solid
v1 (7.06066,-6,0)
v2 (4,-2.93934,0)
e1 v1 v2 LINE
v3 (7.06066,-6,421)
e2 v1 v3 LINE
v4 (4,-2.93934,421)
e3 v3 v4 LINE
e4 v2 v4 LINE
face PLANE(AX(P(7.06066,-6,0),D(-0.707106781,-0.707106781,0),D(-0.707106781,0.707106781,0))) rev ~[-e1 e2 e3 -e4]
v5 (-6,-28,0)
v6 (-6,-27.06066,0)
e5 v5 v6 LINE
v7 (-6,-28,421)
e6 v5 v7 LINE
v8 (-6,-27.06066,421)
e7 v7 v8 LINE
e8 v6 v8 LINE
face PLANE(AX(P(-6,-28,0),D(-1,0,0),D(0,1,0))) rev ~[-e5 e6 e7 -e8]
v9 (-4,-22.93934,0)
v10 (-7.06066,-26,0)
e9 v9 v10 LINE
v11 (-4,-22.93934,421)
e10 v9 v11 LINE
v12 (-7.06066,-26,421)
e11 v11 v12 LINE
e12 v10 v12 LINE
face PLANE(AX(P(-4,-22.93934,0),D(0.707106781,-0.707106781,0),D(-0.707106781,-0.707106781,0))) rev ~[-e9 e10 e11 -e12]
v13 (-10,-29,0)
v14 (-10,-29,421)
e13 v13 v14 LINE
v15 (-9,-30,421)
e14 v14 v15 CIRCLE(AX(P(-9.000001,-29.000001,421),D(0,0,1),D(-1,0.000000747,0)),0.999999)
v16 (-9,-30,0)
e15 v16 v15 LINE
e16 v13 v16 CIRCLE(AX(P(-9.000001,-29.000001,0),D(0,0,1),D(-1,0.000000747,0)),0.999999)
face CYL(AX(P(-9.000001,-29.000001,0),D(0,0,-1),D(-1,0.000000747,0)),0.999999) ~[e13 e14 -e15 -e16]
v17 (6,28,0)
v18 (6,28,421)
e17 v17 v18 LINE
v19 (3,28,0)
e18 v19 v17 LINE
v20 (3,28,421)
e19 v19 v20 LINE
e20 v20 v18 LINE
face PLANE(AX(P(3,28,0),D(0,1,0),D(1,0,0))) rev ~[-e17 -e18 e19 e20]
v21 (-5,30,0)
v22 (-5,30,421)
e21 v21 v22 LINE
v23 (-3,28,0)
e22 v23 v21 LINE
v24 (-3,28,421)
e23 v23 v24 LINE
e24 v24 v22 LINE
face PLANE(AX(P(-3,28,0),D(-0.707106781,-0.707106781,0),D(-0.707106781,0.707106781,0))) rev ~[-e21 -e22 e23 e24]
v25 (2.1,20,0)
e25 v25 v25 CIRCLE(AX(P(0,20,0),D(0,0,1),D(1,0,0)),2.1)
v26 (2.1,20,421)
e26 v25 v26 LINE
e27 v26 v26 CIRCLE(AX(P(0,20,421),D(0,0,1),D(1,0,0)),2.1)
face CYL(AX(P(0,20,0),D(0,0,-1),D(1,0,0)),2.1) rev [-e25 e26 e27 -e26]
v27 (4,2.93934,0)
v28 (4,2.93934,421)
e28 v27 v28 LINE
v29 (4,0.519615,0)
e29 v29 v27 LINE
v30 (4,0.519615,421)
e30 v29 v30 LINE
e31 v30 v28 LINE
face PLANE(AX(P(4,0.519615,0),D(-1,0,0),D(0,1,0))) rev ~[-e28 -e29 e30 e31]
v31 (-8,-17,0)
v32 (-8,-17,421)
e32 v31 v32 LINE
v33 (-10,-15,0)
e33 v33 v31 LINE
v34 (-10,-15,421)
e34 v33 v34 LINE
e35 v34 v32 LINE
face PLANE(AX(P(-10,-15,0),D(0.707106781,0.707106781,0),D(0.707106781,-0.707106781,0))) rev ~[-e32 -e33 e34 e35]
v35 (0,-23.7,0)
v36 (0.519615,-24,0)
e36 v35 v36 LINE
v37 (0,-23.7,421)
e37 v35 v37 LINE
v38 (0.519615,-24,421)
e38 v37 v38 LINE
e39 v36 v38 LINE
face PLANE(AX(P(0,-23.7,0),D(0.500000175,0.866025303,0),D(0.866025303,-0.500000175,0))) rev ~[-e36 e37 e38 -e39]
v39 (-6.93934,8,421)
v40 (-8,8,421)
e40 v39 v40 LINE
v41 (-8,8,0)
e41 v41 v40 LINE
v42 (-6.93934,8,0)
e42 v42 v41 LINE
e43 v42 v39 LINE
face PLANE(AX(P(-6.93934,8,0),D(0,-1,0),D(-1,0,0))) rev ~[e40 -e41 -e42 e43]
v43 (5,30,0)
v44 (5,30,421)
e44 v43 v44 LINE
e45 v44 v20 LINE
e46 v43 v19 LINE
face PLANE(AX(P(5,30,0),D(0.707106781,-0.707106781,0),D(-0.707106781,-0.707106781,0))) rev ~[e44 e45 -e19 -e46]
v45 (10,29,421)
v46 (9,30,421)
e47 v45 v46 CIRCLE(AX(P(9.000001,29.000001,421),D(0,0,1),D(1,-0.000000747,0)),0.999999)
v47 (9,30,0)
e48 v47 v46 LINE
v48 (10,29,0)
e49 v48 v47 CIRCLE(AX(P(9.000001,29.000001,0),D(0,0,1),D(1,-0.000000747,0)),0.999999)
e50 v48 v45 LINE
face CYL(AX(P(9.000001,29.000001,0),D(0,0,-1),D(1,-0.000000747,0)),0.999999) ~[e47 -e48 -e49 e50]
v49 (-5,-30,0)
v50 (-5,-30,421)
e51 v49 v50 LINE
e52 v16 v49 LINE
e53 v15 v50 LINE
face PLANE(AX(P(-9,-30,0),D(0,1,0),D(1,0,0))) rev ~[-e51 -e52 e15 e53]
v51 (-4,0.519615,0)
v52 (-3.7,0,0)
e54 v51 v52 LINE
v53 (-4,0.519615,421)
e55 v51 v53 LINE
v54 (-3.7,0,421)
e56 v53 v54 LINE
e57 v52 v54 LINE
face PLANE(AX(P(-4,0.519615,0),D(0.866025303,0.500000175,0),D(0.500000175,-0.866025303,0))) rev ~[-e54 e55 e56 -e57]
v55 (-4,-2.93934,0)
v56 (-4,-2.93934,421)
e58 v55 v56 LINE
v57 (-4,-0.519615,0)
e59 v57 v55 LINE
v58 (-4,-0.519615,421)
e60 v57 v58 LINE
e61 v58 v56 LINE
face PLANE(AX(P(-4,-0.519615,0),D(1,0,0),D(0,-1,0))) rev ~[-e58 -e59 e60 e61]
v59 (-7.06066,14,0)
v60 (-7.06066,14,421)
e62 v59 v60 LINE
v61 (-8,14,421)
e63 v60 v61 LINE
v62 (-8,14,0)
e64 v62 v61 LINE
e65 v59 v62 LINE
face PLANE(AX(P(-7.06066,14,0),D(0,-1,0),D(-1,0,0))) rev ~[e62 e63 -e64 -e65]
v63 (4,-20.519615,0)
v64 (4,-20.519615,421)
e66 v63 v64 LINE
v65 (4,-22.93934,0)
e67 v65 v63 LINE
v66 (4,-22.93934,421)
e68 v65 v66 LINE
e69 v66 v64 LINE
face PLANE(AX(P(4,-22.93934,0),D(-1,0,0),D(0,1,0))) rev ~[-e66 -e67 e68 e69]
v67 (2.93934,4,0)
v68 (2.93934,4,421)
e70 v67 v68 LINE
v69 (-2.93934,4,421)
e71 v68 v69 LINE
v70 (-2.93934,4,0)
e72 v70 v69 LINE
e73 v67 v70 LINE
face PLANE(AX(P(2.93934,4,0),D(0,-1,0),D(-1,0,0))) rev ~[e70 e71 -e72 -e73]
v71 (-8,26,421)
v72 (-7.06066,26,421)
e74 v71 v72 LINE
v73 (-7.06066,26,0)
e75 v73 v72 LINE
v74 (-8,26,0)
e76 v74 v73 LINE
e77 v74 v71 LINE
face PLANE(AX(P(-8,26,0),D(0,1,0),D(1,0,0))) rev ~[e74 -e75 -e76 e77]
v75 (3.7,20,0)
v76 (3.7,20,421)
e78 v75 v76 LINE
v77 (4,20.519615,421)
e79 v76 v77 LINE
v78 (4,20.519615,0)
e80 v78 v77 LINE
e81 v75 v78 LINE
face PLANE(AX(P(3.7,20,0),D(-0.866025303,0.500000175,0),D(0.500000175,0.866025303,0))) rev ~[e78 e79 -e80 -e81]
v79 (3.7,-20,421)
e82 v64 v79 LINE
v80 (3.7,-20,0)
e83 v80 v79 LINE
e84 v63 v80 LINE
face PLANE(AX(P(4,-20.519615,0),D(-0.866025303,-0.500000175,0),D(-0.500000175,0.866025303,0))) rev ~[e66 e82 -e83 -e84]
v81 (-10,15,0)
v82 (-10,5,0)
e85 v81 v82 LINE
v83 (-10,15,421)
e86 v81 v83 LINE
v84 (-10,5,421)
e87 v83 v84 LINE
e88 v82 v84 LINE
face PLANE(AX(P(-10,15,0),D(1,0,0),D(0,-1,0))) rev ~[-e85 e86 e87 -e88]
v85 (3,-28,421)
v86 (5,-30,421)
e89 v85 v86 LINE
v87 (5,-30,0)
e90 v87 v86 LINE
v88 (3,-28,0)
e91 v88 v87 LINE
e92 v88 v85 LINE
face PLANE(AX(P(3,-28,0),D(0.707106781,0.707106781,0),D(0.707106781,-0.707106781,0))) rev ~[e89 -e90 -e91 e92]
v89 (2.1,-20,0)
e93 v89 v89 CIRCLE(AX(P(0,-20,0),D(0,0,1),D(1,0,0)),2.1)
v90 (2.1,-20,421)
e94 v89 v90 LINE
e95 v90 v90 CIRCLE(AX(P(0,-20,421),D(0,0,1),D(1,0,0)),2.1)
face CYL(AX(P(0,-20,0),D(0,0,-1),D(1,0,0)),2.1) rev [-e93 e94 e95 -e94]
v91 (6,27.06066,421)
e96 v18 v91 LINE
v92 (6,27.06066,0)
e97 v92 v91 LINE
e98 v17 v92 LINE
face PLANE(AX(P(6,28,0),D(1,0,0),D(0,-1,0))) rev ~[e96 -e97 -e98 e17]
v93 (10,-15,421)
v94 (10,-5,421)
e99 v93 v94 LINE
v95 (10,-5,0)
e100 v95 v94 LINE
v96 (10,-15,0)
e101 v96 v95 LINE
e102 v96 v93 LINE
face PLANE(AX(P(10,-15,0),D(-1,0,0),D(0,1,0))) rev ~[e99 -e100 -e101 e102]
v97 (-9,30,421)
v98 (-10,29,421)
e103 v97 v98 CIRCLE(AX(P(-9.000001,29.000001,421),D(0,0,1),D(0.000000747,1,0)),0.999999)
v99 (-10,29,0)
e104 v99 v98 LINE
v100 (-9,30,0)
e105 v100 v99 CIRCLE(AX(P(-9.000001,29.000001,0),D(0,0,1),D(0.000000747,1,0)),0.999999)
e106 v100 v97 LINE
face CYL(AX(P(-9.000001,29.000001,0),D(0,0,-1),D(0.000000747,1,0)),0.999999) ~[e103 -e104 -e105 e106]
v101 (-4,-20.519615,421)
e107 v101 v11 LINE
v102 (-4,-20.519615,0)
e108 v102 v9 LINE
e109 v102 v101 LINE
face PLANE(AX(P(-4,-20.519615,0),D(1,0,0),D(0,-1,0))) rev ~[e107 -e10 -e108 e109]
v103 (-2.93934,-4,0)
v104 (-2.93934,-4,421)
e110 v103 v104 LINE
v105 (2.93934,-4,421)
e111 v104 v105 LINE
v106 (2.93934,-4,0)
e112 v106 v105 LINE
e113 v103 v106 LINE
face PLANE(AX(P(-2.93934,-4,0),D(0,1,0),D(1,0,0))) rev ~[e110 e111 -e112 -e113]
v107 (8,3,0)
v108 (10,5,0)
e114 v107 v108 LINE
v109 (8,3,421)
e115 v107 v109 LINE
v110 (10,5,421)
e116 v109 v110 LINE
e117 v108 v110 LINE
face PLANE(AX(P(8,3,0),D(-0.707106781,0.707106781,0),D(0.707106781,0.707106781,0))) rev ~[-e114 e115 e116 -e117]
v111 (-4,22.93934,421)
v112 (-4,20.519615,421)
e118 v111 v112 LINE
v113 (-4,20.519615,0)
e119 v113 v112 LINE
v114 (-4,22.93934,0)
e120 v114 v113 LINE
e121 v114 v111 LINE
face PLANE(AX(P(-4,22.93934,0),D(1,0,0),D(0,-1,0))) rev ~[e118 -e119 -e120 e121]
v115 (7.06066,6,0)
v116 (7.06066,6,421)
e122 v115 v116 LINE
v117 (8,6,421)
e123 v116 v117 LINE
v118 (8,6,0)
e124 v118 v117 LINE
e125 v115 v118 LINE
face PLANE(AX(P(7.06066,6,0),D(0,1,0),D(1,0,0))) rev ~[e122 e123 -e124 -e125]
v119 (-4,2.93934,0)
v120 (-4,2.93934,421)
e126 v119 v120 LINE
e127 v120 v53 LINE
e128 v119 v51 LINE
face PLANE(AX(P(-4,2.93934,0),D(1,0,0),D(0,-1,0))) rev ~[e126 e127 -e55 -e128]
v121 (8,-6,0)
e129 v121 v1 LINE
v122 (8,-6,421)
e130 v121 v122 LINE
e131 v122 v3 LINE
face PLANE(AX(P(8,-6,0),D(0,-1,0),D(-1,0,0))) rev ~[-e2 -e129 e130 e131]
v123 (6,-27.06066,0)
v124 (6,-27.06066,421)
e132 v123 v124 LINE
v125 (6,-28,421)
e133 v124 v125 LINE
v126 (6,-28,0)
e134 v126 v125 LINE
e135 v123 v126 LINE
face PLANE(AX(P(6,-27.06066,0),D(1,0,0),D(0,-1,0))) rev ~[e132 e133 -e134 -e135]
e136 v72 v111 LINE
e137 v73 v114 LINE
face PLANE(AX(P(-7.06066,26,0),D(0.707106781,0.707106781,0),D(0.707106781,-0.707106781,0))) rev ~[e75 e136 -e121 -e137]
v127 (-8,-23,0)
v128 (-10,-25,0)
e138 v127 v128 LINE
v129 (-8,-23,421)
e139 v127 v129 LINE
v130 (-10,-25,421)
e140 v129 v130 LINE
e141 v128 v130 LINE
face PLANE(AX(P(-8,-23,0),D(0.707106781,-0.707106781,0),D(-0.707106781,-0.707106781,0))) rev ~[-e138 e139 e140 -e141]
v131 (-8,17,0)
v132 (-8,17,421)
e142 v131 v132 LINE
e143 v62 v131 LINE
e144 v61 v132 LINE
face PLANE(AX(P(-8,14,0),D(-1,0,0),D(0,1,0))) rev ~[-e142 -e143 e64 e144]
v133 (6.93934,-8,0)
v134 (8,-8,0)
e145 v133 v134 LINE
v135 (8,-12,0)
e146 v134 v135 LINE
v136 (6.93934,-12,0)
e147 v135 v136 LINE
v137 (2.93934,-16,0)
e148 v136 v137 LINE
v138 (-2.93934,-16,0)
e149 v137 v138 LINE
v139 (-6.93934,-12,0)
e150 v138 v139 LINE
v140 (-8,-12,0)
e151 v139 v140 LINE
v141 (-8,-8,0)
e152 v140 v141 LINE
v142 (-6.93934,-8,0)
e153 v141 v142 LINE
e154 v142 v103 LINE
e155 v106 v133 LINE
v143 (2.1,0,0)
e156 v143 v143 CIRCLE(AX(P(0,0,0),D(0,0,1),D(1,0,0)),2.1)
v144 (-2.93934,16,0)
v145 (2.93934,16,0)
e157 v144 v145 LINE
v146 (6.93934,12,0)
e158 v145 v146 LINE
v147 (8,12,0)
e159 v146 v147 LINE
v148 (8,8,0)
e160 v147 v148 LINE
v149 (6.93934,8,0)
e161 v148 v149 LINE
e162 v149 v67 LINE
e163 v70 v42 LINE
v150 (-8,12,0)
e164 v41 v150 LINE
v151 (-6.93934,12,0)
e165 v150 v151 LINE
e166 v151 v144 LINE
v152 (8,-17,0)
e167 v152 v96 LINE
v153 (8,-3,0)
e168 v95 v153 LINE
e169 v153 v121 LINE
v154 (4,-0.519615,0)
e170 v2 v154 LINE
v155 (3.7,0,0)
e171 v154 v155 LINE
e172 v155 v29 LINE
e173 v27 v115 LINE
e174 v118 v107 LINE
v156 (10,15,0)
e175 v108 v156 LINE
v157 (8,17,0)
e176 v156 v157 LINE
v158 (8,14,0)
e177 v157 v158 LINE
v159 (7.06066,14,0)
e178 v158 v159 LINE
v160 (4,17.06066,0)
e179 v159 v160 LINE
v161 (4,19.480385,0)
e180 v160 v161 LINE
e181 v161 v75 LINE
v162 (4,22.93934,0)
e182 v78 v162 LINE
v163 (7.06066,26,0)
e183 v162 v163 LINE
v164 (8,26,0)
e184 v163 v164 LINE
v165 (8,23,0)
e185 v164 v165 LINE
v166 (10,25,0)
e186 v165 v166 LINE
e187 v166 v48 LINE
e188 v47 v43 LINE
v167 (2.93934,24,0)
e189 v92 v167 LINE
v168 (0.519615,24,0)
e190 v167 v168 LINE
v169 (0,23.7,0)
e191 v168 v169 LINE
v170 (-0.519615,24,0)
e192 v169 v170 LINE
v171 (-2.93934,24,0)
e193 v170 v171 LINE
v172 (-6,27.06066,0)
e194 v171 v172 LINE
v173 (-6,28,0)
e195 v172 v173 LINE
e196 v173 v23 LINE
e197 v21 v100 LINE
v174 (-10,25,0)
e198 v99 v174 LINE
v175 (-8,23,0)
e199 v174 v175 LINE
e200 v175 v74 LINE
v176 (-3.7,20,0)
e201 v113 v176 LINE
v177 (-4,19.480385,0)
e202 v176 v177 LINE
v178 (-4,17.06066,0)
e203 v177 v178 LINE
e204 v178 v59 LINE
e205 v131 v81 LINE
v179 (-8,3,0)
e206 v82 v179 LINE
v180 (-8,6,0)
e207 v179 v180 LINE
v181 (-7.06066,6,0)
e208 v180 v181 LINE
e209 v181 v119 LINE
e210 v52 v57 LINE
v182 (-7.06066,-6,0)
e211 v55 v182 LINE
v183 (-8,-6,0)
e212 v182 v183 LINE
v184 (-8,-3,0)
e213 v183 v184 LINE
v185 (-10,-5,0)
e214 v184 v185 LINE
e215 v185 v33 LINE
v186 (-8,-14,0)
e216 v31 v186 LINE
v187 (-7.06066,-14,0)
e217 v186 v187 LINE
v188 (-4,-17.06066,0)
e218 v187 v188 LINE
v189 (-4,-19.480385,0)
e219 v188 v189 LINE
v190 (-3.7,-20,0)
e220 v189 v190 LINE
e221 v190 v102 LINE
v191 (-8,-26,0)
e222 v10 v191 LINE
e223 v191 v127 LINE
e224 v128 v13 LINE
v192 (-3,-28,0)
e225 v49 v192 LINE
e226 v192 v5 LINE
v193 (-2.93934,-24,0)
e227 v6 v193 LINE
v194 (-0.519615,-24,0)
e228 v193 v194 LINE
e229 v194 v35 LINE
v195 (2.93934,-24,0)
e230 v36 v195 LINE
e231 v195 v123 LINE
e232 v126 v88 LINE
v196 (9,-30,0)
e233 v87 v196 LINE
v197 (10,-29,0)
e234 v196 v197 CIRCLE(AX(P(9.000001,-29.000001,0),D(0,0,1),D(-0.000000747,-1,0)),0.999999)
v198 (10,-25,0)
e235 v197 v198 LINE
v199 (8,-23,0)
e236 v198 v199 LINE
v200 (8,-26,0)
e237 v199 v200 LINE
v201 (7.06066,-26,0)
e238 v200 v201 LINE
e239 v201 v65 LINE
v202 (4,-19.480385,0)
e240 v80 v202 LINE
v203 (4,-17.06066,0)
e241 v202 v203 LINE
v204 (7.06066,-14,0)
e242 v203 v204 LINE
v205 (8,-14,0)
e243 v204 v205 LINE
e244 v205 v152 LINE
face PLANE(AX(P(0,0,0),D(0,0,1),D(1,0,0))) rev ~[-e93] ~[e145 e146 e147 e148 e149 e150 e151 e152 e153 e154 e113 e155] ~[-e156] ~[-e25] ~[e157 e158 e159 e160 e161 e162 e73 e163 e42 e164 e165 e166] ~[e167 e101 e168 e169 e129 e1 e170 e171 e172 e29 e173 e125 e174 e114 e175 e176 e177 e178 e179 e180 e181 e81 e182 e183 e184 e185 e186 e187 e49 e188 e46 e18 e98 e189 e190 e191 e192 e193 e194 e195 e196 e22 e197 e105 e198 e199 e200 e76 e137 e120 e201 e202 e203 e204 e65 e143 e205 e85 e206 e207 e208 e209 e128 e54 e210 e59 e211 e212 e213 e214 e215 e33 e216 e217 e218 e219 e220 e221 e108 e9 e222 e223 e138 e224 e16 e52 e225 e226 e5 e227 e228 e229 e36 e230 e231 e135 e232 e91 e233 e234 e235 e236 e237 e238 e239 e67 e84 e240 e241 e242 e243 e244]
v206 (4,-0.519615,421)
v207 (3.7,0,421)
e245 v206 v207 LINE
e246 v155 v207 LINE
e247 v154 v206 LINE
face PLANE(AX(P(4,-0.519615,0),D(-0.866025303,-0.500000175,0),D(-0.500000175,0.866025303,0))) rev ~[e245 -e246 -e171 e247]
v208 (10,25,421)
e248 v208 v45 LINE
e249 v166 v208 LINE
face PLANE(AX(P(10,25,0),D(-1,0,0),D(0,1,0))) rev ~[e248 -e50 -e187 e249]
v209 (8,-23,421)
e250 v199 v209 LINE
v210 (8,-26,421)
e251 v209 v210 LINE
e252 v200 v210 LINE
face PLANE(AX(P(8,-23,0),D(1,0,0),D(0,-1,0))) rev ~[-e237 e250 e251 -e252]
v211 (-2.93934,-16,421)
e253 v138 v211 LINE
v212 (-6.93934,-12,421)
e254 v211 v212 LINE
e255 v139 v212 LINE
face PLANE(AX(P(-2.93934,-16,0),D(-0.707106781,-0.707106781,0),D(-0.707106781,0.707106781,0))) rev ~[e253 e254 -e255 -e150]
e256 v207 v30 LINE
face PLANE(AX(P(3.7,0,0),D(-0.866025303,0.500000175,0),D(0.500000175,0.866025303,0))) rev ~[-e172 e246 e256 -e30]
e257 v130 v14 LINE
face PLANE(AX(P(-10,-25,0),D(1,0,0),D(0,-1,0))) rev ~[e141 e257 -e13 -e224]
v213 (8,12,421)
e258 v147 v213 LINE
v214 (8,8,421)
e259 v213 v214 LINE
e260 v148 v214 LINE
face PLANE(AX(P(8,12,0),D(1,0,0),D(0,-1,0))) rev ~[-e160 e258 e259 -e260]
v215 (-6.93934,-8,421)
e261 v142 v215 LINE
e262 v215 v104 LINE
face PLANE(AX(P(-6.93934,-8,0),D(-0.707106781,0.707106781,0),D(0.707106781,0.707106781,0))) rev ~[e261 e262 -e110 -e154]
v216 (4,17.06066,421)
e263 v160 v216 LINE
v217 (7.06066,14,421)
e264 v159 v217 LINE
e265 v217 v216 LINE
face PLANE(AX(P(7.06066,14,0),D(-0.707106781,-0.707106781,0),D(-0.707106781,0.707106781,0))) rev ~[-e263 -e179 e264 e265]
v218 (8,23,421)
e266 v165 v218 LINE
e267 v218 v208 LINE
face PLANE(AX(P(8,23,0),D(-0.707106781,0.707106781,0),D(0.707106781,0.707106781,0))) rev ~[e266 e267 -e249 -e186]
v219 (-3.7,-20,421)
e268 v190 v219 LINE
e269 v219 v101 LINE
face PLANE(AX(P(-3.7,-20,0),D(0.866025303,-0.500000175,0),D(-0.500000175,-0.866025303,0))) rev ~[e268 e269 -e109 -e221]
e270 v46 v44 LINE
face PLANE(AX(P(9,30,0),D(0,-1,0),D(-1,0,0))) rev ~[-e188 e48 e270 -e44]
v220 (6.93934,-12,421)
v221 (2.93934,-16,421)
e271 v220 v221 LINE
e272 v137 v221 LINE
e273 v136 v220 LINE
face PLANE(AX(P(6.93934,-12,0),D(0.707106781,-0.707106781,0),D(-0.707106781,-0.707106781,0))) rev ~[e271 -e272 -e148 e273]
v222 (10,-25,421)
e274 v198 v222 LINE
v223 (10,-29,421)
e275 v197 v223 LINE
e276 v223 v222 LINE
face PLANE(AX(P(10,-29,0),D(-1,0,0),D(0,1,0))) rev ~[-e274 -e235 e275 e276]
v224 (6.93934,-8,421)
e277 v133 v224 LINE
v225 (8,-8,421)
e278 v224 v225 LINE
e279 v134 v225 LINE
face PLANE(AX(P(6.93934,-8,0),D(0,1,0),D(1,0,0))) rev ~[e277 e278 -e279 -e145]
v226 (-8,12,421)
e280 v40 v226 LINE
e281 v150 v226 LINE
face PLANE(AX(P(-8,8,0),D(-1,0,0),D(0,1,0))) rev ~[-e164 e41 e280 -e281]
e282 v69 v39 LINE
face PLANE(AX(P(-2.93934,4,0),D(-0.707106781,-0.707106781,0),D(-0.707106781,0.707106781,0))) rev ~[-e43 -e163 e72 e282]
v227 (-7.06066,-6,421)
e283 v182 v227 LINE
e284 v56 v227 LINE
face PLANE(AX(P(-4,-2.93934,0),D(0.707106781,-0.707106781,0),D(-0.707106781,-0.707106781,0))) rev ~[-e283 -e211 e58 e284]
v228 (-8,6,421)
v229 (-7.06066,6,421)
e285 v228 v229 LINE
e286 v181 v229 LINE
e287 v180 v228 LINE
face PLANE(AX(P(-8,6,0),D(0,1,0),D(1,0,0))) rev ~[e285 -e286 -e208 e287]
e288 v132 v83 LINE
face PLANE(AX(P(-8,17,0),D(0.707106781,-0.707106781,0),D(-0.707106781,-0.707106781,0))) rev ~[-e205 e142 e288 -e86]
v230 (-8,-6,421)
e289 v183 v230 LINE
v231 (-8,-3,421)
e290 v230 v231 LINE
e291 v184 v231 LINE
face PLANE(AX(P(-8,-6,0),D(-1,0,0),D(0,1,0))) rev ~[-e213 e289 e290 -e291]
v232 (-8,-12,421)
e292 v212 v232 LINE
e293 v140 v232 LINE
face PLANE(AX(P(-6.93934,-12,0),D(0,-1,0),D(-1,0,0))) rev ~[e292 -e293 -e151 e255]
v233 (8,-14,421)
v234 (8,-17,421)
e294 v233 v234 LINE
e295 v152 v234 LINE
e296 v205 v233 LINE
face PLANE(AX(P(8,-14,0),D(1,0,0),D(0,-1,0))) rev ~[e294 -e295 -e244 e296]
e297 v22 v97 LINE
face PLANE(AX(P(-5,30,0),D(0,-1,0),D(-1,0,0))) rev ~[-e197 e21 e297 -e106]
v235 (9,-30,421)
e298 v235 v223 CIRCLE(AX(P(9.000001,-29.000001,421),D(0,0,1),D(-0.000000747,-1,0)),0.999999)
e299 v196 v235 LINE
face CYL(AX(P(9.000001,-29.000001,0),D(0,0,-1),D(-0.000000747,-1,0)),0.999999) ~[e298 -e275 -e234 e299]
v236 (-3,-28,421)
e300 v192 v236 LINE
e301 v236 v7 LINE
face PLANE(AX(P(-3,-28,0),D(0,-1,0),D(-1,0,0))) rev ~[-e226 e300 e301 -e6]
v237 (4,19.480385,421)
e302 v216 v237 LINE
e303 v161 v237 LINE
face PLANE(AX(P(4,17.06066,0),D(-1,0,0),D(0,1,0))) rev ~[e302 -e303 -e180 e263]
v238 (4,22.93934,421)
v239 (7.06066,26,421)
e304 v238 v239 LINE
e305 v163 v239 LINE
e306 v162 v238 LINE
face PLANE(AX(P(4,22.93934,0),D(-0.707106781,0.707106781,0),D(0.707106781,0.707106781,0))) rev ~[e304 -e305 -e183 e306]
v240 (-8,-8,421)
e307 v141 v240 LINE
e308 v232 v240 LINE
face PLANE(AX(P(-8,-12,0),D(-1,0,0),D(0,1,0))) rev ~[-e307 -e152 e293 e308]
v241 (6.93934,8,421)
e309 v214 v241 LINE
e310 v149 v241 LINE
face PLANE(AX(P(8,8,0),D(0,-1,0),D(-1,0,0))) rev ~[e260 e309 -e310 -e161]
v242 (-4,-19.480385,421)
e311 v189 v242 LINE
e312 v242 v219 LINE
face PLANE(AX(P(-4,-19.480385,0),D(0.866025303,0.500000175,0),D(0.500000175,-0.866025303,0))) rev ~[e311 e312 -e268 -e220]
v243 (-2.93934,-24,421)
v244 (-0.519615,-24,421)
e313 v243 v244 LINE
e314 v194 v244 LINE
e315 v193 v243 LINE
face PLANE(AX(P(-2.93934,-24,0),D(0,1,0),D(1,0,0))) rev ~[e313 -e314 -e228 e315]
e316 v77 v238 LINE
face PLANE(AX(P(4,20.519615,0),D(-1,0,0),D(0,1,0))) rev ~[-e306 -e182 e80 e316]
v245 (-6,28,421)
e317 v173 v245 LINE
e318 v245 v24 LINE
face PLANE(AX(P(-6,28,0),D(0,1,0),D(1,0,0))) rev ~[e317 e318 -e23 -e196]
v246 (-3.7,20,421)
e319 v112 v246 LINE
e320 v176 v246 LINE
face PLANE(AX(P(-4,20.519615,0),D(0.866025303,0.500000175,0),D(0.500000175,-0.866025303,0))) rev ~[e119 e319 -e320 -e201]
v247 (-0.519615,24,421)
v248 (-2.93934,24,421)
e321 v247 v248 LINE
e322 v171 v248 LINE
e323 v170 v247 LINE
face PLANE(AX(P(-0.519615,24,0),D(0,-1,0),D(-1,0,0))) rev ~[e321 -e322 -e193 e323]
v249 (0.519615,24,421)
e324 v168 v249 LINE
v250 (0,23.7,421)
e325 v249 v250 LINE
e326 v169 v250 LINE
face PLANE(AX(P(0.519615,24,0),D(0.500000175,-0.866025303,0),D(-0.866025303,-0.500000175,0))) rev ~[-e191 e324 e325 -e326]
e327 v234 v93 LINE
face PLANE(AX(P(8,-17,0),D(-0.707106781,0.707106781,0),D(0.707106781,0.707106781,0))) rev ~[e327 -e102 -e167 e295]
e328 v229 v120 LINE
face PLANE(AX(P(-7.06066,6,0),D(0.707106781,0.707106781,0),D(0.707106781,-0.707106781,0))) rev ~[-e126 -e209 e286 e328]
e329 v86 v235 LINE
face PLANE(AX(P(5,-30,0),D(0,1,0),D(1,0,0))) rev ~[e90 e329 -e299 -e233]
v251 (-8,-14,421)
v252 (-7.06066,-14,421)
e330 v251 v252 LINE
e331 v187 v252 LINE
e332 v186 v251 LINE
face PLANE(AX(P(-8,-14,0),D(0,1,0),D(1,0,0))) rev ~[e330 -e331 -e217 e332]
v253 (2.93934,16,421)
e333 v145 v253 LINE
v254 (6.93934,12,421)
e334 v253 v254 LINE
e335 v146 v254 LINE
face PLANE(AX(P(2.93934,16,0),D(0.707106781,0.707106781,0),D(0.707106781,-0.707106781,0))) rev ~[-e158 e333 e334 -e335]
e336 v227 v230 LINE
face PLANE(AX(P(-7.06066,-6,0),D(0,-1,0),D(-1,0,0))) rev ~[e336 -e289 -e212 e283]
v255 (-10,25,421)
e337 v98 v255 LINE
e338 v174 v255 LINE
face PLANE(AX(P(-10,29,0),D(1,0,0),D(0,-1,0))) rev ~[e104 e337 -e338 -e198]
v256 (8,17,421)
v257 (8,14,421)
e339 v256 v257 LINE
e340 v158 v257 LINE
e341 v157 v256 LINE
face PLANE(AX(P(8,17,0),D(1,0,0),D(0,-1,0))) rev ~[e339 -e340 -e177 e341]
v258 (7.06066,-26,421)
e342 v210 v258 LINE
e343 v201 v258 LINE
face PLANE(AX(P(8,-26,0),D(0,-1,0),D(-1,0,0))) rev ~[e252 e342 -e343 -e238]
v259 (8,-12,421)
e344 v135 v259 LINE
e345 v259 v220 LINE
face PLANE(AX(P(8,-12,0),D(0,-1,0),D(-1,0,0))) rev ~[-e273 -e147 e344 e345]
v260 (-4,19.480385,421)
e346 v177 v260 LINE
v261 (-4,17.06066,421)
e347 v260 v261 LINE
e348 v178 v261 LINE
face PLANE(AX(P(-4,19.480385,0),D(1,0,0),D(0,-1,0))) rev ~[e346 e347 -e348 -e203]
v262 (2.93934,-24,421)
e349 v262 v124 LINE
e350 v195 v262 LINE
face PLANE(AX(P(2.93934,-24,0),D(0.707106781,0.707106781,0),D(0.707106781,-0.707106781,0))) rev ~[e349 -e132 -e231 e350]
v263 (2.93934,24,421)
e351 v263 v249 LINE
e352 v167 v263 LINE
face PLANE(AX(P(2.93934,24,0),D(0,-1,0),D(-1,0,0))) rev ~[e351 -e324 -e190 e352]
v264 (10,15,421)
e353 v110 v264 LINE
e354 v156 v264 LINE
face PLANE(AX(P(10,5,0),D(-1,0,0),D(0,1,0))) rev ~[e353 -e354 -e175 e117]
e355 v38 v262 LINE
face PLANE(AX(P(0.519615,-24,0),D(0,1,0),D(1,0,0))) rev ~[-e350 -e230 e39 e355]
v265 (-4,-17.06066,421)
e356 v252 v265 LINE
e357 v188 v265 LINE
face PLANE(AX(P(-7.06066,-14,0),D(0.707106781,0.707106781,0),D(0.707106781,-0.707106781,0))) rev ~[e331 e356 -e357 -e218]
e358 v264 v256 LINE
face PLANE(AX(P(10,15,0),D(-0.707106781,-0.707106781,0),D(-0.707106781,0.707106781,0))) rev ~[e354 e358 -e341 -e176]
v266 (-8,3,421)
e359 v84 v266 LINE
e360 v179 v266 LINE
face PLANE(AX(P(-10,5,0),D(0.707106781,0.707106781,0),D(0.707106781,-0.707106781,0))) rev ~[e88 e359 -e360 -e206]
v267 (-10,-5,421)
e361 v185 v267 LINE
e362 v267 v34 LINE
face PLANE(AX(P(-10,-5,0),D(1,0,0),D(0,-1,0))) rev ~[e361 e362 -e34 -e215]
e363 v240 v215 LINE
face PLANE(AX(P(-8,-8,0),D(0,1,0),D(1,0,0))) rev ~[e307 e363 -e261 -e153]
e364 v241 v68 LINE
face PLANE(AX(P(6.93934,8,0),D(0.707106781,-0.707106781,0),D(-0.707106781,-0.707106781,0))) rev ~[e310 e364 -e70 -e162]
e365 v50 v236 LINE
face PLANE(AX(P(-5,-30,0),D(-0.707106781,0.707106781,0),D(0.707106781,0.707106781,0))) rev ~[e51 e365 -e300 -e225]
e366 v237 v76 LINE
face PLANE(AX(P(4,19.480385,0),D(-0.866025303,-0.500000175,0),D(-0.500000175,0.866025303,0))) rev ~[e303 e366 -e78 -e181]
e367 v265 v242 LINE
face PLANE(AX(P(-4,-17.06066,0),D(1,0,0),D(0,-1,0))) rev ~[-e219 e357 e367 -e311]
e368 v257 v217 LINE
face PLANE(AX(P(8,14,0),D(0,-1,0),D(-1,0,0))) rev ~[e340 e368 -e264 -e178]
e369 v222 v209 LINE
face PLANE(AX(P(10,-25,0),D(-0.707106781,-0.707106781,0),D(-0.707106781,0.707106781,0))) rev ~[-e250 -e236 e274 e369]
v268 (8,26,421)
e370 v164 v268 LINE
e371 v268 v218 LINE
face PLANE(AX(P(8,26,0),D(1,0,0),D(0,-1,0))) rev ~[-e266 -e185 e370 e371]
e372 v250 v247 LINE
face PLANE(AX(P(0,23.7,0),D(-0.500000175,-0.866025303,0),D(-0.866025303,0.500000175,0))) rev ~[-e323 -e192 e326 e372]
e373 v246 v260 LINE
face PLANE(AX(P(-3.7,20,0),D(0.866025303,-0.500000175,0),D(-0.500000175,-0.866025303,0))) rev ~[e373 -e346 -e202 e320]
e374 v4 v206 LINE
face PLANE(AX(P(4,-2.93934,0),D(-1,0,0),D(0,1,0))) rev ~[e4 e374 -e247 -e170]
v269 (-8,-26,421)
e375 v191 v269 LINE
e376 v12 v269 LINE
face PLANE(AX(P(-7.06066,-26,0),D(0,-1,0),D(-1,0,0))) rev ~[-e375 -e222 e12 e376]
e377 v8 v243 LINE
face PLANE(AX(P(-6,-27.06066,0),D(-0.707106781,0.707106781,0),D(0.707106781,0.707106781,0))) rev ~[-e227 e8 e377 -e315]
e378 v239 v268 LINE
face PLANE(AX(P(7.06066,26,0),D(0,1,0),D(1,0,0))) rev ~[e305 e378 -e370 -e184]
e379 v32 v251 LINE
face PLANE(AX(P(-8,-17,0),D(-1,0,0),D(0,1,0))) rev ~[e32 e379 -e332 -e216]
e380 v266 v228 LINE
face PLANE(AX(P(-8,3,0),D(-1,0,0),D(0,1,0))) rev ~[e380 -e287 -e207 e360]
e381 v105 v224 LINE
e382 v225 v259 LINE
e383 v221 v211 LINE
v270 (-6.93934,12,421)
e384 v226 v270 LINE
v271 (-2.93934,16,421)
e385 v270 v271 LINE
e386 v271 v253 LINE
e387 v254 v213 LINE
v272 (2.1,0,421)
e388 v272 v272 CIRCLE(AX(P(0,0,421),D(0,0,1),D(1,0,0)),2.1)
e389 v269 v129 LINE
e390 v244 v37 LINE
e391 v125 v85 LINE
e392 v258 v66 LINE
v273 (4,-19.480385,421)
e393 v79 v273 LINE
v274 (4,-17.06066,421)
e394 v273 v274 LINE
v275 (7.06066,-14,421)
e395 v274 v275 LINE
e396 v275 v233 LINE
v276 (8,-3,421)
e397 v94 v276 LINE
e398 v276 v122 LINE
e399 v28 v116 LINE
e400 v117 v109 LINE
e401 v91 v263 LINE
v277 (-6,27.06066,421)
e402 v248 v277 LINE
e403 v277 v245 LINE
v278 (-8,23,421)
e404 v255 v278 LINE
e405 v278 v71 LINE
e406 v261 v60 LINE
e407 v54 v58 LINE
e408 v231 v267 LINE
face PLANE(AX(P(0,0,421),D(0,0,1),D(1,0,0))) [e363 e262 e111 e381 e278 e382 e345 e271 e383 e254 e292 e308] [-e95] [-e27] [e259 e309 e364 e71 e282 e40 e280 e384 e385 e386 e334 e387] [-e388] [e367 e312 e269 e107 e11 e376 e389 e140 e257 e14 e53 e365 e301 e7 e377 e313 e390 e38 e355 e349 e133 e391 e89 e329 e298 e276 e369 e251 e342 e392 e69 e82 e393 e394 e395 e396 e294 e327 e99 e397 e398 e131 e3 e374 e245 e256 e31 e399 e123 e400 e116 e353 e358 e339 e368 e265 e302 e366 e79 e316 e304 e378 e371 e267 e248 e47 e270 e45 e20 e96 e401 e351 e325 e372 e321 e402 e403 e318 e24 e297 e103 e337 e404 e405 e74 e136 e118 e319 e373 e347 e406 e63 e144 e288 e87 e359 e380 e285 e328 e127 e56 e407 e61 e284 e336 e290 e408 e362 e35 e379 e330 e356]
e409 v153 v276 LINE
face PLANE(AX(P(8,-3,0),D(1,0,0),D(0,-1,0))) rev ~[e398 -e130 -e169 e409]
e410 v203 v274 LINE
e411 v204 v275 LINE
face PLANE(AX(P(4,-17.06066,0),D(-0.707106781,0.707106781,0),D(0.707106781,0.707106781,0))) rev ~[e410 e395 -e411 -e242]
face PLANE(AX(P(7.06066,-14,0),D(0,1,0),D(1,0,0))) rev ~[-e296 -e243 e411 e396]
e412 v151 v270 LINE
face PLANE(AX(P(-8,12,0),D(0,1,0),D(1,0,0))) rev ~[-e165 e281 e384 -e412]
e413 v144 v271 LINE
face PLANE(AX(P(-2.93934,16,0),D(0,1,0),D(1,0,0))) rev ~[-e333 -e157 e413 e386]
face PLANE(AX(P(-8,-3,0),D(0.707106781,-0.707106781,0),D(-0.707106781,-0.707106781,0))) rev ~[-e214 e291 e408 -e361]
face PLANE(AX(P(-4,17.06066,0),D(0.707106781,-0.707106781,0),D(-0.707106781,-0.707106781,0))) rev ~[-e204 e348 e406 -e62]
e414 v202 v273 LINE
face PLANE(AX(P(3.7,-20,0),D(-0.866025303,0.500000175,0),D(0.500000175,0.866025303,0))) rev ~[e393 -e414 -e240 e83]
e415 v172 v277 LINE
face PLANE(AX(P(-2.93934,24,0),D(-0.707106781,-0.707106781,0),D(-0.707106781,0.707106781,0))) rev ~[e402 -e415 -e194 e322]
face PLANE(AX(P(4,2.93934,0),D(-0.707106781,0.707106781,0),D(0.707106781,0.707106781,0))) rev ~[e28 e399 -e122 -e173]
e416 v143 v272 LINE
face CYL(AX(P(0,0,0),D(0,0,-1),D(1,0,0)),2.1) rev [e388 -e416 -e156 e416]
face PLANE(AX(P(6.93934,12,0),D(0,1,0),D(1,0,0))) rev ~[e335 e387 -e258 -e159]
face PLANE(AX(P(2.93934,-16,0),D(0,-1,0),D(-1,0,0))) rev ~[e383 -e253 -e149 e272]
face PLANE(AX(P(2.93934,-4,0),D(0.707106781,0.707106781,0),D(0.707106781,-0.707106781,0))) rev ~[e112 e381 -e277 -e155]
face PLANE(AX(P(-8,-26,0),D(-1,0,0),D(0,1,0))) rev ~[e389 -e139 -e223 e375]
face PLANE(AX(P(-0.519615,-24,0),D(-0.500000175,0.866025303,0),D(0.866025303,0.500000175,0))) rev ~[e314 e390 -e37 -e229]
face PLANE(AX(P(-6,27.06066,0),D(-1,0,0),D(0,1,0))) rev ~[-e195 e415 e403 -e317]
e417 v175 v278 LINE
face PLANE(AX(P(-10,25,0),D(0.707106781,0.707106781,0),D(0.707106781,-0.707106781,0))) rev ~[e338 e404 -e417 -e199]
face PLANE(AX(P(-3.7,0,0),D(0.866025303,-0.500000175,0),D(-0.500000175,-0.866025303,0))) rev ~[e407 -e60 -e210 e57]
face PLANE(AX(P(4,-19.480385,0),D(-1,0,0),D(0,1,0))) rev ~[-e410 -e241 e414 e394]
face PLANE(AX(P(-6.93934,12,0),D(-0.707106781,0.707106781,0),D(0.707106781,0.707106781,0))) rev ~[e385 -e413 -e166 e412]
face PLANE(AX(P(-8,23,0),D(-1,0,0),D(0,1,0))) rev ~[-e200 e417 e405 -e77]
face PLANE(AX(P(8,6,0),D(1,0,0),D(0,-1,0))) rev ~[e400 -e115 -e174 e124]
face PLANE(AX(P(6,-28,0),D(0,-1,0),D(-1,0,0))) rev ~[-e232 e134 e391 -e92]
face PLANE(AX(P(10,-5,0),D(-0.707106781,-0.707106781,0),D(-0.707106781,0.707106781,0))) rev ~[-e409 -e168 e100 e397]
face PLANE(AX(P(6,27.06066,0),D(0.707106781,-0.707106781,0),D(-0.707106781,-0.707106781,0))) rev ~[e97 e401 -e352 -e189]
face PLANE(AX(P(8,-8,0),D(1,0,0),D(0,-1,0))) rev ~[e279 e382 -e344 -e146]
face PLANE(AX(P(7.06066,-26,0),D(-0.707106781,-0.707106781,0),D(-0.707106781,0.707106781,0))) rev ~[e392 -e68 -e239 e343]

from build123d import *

# Parameters (mm, degrees)
F0_R     = 2.1
F1_DEPTH = 421


with BuildPart() as f1:
    # F0 (on Top) → F1 (new body)
    with BuildSketch(Plane.XY):
        with BuildLine():
            Line((-8, -3), (-10, -5))
            Line((-10, -5), (-10, -15))
            Line((-10, -15), (-8, -17))
            Line((-8, -17), (-8, -14))
            Line((-8, -14), (-7.06066, -14))
            Line((-7.06066, -14), (-4, -17.06066))
            Line((-4, -17.06066), (-4, -19.480385))
            Line((-4, -19.480385), (-3.7, -20))
            Line((-3.7, -20), (-4, -20.519615))
            Line((-4, -20.519615), (-4, -22.93934))
            Line((-4, -22.93934), (-7.06066, -26))
            Line((-7.06066, -26), (-8, -26))
            Line((-8, -26), (-8, -23))
            Line((-8, -23), (-10, -25))
            Line((-10, -25), (-10, -29))
            ThreePointArc((-10, -29), (-9.707107, -29.707107), (-9, -30))
            Line((-9, -30), (-5, -30))
            Line((-5, -30), (-3, -28))
            Line((-3, -28), (-6, -28))
            Line((-6, -28), (-6, -27.06066))
            Line((-6, -27.06066), (-2.93934, -24))
            Line((-2.93934, -24), (-0.519615, -24))
            Line((-0.519615, -24), (0, -23.7))
            Line((0, -23.7), (0.519615, -24))
            Line((0.519615, -24), (2.93934, -24))
            Line((2.93934, -24), (6, -27.06066))
            Line((6, -27.06066), (6, -28))
            Line((6, -28), (3, -28))
            Line((3, -28), (5, -30))
            Line((5, -30), (9, -30))
            ThreePointArc((9, -30), (9.707107, -29.707107), (10, -29))
            Line((10, -29), (10, -25))
            Line((10, -25), (8, -23))
            Line((8, -23), (8, -26))
            Line((8, -26), (7.06066, -26))
            Line((7.06066, -26), (4, -22.93934))
            Line((4, -22.93934), (4, -20.519615))
            Line((4, -20.519615), (3.7, -20))
            Line((3.7, -20), (4, -19.480385))
            Line((4, -19.480385), (4, -17.06066))
            Line((4, -17.06066), (7.06066, -14))
            Line((7.06066, -14), (8, -14))
            Line((8, -14), (8, -17))
            Line((8, -17), (10, -15))
            Line((10, -15), (10, -5))
            Line((10, -5), (8, -3))
            Line((8, -3), (8, -6))
            Line((8, -6), (7.06066, -6))
            Line((7.06066, -6), (4, -2.93934))
            Line((4, -2.93934), (4, -0.519615))
            Line((4, -0.519615), (3.7, 0))
            Line((3.7, 0), (4, 0.519615))
            Line((4, 0.519615), (4, 2.93934))
            Line((4, 2.93934), (7.06066, 6))
            Line((7.06066, 6), (8, 6))
            Line((8, 6), (8, 3))
            Line((8, 3), (10, 5))
            Line((10, 5), (10, 15))
            Line((10, 15), (8, 17))
            Line((8, 17), (8, 14))
            Line((8, 14), (7.06066, 14))
            Line((7.06066, 14), (4, 17.06066))
            Line((4, 17.06066), (4, 19.480385))
            Line((4, 19.480385), (3.7, 20))
            Line((3.7, 20), (4, 20.519615))
            Line((4, 20.519615), (4, 22.93934))
            Line((4, 22.93934), (7.06066, 26))
            Line((7.06066, 26), (8, 26))
            Line((8, 26), (8, 23))
            Line((8, 23), (10, 25))
            Line((10, 25), (10, 29))
            ThreePointArc((10, 29), (9.707107, 29.707107), (9, 30))
            Line((9, 30), (5, 30))
            Line((5, 30), (3, 28))
            Line((3, 28), (6, 28))
            Line((6, 28), (6, 27.06066))
            Line((6, 27.06066), (2.93934, 24))
            Line((2.93934, 24), (0.519615, 24))
            Line((0.519615, 24), (0, 23.7))
            Line((0, 23.7), (-0.519615, 24))
            Line((-0.519615, 24), (-2.93934, 24))
            Line((-2.93934, 24), (-6, 27.06066))
            Line((-6, 27.06066), (-6, 28))
            Line((-6, 28), (-3, 28))
            Line((-3, 28), (-5, 30))
            Line((-5, 30), (-9, 30))
            ThreePointArc((-9, 30), (-9.707107, 29.707107), (-10, 29))
            Line((-10, 29), (-10, 25))
            Line((-10, 25), (-8, 23))
            Line((-8, 23), (-8, 26))
            Line((-8, 26), (-7.06066, 26))
            Line((-7.06066, 26), (-4, 22.93934))
            Line((-4, 22.93934), (-4, 20.519615))
            Line((-4, 20.519615), (-3.7, 20))
            Line((-3.7, 20), (-4, 19.480385))
            Line((-4, 19.480385), (-4, 17.06066))
            Line((-4, 17.06066), (-7.06066, 14))
            Line((-7.06066, 14), (-8, 14))
            Line((-8, 14), (-8, 17))
            Line((-8, 17), (-10, 15))
            Line((-10, 15), (-10, 5))
            Line((-10, 5), (-8, 3))
            Line((-8, 3), (-8, 6))
            Line((-8, 6), (-7.06066, 6))
            Line((-7.06066, 6), (-4, 2.93934))
            Line((-4, 2.93934), (-4, 0.519615))
            Line((-4, 0.519615), (-3.7, 0))
            Line((-3.7, 0), (-4, -0.519615))
            Line((-4, -0.519615), (-4, -2.93934))
            Line((-4, -2.93934), (-7.06066, -6))
            Line((-7.06066, -6), (-8, -6))
            Line((-8, -6), (-8, -3))
        make_face()
        with Locations((0, -20)):
            Circle(F0_R, mode=Mode.SUBTRACT)
        Polygon((-8, -8), (-6.93934, -8), (-2.93934, -4), (2.93934, -4), (6.93934, -8), (8, -8), (8, -12), (6.93934, -12), (2.93934, -16), (-2.93934, -16), (-6.93934, -12), (-8, -12), align=None, mode=Mode.SUBTRACT)
        Circle(F0_R, mode=Mode.SUBTRACT)
        Polygon((-8, 8), (-8, 12), (-6.93934, 12), (-2.93934, 16), (2.93934, 16), (6.93934, 12), (8, 12), (8, 8), (6.93934, 8), (2.93934, 4), (-2.93934, 4), (-6.93934, 8), align=None, mode=Mode.SUBTRACT)
        with Locations((0, 20)):
            Circle(F0_R, mode=Mode.SUBTRACT)
    extrude(amount=F1_DEPTH)


solid = f1.part
